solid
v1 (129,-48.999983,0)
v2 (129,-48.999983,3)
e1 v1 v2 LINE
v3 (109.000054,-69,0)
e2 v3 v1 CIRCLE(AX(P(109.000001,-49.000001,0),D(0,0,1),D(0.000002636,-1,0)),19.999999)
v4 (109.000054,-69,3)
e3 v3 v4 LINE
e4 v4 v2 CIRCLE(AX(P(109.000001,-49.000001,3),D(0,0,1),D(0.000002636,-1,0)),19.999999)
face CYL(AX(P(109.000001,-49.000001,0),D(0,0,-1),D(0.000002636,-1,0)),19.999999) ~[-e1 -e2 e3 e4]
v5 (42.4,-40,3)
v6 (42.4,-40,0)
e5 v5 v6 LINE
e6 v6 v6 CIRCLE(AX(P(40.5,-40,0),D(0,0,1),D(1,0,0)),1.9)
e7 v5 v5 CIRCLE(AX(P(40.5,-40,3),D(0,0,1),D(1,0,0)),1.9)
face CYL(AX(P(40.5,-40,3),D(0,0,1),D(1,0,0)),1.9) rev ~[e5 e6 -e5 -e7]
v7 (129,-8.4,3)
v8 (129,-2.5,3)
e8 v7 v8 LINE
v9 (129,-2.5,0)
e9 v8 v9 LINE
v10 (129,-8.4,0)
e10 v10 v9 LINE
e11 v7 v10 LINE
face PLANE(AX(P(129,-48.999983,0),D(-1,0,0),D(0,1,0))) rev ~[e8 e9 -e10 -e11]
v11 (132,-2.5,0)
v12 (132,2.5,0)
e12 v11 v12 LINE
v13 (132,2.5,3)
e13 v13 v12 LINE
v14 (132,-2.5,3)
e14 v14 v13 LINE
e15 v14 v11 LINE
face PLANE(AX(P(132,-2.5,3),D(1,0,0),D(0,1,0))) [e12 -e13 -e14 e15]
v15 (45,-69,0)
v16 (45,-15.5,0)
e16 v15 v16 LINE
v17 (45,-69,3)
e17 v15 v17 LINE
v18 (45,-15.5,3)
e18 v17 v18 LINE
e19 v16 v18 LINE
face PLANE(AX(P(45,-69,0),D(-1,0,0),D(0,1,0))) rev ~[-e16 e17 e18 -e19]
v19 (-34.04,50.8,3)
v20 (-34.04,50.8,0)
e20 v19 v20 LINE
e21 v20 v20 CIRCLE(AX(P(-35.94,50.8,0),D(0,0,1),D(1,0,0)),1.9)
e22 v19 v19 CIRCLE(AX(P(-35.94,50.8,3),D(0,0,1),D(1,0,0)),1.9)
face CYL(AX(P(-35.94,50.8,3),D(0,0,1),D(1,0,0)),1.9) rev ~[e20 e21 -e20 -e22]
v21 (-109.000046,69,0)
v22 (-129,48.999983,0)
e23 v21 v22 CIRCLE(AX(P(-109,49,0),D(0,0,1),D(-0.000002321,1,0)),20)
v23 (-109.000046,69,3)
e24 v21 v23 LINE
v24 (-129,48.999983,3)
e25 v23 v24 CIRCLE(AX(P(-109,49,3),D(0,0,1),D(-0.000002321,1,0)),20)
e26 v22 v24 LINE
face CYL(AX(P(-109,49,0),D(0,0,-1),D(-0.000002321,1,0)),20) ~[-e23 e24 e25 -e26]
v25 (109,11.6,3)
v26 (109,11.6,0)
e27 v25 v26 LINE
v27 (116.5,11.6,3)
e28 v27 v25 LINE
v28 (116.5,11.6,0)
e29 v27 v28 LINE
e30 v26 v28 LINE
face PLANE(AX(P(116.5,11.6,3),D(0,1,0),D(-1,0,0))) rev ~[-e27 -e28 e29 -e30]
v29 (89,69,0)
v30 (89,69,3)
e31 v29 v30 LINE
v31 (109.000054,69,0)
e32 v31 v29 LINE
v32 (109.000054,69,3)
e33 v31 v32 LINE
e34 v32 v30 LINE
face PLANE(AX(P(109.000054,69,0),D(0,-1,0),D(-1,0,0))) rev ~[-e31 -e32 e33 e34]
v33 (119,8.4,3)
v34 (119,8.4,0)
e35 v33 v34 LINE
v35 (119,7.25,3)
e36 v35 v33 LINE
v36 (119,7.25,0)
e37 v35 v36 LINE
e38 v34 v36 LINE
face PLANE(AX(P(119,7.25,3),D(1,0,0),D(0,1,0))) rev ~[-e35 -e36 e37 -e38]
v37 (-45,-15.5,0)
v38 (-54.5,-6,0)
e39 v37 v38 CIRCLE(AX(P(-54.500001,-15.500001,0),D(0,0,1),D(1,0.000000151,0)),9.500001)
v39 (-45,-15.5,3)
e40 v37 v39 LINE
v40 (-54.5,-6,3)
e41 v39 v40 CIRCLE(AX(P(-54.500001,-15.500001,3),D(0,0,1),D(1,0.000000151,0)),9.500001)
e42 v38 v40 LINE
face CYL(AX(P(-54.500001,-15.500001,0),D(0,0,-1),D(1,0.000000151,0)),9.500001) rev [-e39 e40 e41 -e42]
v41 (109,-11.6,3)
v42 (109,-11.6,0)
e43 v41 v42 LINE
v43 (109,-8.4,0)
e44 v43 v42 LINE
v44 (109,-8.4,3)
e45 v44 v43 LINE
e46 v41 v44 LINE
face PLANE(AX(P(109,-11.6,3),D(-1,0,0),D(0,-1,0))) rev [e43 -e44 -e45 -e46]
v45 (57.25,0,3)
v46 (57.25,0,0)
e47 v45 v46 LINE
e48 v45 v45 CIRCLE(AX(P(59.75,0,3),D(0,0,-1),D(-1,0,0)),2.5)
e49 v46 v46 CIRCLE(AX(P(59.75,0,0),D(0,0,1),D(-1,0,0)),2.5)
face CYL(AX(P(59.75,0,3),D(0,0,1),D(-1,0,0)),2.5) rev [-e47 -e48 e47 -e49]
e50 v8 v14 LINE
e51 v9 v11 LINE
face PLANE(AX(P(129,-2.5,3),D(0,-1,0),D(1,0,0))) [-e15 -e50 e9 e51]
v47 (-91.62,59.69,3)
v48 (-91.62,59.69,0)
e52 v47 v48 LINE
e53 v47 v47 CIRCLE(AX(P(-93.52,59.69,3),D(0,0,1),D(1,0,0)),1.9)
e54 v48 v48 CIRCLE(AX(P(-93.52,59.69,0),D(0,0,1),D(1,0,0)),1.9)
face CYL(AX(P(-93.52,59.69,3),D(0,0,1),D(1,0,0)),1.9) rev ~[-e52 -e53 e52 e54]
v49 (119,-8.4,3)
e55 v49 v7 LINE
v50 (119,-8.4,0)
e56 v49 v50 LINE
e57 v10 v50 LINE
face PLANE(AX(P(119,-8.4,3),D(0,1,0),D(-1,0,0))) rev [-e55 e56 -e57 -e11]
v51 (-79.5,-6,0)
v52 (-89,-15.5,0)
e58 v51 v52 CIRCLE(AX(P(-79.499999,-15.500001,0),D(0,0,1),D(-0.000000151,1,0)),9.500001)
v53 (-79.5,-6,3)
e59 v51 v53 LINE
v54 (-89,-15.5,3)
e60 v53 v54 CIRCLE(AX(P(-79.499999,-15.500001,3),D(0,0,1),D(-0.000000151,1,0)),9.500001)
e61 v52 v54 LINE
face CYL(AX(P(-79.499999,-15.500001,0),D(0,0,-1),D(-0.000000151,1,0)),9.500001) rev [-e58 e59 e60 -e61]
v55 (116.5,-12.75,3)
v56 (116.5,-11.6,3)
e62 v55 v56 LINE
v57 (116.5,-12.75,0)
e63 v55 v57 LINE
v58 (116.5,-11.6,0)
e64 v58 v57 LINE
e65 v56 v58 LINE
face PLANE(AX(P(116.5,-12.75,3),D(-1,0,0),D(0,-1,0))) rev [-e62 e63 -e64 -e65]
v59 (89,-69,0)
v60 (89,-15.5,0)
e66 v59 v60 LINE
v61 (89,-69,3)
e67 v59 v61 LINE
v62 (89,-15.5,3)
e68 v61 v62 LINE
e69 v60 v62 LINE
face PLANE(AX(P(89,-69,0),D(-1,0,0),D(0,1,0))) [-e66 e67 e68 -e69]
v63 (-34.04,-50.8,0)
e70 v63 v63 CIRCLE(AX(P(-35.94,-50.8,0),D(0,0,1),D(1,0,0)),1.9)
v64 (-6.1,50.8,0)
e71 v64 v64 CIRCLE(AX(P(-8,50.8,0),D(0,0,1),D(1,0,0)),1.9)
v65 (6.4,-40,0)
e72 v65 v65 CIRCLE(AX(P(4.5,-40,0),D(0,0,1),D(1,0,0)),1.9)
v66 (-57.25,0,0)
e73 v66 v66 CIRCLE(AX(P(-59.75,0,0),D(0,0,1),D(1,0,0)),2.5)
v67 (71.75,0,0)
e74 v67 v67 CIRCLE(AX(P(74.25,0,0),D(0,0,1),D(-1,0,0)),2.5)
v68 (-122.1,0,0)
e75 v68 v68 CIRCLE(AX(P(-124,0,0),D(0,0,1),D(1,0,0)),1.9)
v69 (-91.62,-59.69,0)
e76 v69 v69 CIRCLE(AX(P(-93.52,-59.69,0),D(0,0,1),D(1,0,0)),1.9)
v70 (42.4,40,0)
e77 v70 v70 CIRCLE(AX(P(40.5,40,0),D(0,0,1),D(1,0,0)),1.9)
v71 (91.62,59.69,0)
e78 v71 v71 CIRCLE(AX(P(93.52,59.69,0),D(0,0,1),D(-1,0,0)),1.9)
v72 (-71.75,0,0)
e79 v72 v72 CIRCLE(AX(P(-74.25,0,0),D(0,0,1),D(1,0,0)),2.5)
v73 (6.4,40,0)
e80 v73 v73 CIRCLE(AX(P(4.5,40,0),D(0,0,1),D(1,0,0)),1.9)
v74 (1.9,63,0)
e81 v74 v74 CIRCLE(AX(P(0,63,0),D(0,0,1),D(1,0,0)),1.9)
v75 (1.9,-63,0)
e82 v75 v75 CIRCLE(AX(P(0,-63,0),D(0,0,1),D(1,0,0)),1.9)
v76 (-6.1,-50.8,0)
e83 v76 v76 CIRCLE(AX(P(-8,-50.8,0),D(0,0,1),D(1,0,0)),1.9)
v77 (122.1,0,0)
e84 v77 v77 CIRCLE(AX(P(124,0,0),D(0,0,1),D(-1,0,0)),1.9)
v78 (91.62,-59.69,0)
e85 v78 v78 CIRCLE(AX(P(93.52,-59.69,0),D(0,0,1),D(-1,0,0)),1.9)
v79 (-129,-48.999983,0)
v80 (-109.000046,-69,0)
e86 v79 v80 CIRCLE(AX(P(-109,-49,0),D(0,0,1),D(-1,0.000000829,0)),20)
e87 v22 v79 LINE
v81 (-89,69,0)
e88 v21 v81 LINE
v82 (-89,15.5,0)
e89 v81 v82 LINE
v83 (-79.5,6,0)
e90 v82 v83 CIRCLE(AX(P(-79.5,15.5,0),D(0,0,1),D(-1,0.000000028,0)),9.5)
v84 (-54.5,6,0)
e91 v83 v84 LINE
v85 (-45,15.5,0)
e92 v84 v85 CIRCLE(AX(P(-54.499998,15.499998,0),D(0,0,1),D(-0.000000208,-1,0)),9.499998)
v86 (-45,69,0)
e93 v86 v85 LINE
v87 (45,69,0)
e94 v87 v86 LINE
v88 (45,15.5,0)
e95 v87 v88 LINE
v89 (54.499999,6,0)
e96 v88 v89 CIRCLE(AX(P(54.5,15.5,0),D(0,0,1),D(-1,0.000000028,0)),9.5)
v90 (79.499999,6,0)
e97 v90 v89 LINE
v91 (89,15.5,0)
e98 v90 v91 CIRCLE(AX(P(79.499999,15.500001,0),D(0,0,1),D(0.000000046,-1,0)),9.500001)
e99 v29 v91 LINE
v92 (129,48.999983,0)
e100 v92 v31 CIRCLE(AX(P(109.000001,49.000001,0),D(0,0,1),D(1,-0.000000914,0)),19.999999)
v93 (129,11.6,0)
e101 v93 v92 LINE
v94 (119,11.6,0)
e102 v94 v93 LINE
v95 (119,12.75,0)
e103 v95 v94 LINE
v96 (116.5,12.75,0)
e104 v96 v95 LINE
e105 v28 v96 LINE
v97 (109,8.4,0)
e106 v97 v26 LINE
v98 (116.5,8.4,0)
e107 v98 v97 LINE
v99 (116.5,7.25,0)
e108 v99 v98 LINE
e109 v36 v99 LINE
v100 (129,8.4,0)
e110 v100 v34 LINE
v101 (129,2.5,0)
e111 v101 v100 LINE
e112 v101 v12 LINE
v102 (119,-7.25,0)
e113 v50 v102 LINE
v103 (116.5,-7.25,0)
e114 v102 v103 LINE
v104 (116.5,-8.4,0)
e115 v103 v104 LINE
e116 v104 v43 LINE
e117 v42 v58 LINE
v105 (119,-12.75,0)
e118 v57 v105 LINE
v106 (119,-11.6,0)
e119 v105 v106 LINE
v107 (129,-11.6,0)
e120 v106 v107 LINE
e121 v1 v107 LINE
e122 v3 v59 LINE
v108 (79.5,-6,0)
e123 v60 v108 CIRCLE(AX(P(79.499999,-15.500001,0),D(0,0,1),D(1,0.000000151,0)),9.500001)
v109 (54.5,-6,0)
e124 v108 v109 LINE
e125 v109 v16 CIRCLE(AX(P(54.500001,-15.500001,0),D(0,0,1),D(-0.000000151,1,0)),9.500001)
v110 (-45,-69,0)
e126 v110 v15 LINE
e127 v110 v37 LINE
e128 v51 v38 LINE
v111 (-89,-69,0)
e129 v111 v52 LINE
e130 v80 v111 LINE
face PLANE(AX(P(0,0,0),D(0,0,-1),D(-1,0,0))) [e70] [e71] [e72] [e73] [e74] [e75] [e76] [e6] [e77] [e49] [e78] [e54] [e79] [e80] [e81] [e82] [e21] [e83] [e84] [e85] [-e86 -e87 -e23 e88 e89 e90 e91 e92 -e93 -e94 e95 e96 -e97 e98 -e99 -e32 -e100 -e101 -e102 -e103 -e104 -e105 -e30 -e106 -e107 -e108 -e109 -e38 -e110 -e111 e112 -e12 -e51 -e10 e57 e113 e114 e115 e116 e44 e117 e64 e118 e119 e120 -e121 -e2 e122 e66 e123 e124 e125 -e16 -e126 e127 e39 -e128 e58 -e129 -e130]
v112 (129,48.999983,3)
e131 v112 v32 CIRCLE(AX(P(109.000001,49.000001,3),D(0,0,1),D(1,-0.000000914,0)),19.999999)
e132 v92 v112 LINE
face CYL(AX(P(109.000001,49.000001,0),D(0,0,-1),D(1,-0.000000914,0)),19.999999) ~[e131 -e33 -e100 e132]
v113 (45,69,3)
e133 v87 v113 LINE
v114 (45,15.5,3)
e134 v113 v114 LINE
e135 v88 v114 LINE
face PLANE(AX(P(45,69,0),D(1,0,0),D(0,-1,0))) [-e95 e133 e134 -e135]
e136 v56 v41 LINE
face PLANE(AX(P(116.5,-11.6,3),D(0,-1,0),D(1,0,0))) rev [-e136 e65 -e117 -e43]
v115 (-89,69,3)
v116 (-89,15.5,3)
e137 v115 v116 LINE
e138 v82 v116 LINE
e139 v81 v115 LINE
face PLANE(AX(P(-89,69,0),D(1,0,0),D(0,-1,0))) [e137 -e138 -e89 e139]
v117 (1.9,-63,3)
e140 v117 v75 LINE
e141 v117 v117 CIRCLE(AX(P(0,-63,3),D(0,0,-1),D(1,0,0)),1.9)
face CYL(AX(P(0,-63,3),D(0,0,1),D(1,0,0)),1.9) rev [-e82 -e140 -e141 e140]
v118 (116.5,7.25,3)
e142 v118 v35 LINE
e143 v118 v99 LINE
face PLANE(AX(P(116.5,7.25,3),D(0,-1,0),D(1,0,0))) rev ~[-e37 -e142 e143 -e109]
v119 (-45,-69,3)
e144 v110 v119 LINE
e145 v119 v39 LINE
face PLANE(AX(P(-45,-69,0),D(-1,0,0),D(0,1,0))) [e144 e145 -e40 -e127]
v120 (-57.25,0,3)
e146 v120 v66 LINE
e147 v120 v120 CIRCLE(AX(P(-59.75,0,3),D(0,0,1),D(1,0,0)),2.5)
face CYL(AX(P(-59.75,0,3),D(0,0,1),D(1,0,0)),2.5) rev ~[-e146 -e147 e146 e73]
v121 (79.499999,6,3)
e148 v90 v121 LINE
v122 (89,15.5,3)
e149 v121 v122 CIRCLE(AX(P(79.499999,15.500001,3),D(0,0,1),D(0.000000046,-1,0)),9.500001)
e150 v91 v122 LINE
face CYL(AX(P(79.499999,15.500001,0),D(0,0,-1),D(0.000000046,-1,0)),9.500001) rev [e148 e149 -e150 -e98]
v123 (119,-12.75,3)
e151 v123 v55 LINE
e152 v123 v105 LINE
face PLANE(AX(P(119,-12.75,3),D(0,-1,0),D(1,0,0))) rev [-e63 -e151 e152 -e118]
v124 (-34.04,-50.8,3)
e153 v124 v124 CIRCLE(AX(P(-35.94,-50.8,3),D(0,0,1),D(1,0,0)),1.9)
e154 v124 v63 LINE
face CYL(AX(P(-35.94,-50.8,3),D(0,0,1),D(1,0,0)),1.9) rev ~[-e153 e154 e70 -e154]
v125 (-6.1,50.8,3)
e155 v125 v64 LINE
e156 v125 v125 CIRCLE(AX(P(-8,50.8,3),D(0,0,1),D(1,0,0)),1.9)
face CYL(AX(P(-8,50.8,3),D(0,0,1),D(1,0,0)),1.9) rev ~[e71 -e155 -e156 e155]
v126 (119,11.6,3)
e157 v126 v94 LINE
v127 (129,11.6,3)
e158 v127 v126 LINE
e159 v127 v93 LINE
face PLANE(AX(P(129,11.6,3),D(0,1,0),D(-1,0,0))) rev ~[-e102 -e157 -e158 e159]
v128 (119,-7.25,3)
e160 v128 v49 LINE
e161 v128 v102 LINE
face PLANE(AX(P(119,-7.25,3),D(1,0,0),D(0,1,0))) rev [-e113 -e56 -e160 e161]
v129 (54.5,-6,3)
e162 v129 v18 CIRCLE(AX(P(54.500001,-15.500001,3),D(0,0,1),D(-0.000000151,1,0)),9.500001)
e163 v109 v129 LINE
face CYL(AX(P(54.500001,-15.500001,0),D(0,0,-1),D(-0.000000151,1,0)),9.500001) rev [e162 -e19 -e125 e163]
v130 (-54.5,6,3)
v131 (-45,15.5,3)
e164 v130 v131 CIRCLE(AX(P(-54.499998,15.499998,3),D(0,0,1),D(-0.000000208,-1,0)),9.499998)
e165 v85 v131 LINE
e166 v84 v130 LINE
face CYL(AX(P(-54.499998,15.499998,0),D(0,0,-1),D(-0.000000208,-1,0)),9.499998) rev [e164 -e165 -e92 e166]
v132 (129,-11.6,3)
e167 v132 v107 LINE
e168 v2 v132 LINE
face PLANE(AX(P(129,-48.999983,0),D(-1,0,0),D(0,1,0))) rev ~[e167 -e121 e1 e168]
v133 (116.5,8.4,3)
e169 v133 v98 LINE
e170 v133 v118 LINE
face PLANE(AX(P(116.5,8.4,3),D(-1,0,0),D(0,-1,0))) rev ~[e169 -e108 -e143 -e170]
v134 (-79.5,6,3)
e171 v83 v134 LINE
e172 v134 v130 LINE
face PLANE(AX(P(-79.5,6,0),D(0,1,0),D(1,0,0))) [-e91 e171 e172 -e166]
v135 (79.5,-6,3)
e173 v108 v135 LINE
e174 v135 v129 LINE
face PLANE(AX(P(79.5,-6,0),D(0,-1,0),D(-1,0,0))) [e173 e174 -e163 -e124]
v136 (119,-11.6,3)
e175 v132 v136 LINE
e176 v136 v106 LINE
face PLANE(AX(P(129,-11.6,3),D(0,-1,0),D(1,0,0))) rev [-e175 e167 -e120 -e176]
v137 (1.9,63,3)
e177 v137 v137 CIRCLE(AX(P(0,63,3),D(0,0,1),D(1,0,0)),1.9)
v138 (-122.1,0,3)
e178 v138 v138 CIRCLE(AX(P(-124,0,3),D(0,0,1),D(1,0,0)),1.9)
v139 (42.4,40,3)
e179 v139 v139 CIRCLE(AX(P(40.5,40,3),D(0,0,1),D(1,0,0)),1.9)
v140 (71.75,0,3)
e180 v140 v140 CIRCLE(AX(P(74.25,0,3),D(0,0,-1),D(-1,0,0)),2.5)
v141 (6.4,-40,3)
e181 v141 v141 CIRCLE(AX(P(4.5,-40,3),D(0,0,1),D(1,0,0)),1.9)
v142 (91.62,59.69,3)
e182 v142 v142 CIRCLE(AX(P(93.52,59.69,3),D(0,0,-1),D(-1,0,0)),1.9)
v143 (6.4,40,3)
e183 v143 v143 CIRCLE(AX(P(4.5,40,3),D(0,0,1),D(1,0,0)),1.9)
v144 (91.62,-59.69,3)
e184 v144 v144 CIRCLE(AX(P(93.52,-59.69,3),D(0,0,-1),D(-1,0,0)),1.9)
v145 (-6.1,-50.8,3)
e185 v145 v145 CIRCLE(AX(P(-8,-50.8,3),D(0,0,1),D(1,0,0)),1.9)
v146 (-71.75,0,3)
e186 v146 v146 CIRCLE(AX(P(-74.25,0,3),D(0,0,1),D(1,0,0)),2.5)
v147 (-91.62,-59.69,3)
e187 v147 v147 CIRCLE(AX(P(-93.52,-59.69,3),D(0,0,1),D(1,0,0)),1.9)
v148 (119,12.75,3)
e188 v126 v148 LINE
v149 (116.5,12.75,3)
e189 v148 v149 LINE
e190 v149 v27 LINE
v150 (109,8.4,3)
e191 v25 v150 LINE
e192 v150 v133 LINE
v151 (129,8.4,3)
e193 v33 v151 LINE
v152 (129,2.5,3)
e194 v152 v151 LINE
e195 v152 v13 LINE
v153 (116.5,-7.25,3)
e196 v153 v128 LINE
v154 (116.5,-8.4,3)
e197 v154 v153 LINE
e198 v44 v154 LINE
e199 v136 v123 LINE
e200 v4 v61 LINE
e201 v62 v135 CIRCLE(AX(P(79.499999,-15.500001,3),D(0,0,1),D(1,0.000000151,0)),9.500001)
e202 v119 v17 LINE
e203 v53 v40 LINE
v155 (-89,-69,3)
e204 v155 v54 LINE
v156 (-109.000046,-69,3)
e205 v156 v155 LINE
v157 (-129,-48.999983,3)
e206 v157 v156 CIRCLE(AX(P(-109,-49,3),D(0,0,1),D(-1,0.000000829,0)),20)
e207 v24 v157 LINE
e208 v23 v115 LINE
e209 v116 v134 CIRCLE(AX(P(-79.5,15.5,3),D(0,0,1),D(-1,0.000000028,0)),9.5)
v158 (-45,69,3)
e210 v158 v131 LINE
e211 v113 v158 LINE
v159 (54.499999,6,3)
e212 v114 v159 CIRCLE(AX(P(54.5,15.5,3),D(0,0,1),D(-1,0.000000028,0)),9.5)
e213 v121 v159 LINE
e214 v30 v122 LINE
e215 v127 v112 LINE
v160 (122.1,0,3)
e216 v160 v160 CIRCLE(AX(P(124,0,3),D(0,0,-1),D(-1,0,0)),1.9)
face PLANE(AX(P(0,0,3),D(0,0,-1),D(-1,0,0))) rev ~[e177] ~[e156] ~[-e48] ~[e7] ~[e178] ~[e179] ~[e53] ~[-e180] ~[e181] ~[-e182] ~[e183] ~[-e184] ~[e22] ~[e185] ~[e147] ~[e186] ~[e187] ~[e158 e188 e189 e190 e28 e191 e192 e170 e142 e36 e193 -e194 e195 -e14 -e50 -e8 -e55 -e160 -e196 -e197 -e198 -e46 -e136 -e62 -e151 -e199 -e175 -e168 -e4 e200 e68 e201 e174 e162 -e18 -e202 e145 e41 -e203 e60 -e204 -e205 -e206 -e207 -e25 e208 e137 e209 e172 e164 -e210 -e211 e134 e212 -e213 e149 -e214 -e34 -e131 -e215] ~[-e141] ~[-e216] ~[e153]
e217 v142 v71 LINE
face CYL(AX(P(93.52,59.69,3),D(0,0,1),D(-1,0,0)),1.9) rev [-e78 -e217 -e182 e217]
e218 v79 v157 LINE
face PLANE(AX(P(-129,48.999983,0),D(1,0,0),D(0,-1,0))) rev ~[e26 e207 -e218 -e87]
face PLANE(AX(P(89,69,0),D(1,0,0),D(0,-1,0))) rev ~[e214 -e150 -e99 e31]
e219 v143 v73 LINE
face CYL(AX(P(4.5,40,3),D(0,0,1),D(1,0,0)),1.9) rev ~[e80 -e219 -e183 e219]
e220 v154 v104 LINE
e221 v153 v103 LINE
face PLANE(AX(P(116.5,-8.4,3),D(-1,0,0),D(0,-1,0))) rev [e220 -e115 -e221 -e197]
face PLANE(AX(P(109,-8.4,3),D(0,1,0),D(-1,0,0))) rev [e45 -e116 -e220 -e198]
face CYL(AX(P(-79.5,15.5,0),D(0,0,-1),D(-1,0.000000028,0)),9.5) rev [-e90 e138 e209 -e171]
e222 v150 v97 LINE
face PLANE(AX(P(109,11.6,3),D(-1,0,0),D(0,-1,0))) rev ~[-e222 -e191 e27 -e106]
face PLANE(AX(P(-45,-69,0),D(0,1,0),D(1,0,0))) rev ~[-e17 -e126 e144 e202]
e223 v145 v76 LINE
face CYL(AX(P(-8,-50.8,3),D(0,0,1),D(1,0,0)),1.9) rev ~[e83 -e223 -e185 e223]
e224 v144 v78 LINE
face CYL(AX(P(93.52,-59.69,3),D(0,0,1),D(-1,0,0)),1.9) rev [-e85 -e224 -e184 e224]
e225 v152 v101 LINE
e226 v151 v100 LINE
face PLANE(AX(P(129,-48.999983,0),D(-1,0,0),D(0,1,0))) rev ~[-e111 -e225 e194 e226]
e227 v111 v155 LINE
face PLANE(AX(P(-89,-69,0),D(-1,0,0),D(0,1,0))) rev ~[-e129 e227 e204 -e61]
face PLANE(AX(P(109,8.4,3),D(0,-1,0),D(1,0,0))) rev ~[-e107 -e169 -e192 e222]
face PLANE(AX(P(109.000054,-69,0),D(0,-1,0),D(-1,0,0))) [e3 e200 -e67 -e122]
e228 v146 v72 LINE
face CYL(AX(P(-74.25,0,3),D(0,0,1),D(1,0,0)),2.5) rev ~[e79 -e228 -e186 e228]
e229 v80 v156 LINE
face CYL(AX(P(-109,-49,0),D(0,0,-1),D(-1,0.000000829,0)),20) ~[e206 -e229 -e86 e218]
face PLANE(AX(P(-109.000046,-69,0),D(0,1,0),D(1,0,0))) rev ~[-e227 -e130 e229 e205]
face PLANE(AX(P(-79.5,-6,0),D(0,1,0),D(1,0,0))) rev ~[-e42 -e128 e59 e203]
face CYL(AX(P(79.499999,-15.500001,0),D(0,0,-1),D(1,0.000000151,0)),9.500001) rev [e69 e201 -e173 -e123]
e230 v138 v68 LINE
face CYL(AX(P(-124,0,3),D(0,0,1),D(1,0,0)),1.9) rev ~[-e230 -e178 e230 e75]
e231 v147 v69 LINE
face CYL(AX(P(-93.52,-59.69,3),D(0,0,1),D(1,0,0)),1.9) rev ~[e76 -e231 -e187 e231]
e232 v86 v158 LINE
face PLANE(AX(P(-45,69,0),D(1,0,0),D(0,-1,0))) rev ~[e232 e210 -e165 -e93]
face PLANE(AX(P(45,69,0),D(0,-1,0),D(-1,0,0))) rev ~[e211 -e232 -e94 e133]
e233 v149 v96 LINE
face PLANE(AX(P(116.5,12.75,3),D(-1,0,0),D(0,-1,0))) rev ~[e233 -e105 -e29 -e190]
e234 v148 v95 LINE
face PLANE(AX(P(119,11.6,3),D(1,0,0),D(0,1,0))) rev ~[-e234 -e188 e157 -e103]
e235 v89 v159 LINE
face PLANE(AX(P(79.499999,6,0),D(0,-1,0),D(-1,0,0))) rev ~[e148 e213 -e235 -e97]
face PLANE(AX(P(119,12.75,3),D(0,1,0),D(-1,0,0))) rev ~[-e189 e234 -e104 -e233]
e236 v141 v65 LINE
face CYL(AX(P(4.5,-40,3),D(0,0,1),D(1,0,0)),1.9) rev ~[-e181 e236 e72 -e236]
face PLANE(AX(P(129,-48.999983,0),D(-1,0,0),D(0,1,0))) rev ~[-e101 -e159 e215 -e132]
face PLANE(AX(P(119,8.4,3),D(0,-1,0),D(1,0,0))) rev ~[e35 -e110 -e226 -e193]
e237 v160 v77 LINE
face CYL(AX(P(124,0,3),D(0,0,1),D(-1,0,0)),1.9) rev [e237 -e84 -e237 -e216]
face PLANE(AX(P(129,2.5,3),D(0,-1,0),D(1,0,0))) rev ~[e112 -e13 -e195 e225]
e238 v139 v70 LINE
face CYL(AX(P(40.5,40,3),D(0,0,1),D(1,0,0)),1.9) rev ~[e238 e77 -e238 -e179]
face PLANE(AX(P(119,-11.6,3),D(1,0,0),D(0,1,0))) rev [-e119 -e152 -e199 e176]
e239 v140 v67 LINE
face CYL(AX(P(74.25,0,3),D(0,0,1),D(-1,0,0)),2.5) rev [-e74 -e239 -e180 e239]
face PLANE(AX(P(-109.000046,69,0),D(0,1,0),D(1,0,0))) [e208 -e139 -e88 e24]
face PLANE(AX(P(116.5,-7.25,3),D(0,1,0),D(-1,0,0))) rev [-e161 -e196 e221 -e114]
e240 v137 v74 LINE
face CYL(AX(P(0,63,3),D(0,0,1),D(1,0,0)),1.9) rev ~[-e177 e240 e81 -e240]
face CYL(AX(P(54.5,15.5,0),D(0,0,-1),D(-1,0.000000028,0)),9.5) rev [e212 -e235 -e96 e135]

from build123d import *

# Parameters (mm, degrees)
PAD_DEPTH       = 3
SKETCH004_R     = 2.5
POCKET_DEPTH    = 588.208656
SKETCH005_R     = 1.9
POCKET001_DEPTH = 588.208656
SKETCH014_R     = 1.9
POCKET008_DEPTH = 3.001
SKETCH025_R     = 1.9
POCKET016_DEPTH = 3.001
POCKET020_DEPTH = 588.208656
SKETCH032_W     = 3
SKETCH032_H     = 5
PAD007_DEPTH    = 3
SKETCH037_R     = 1.9
POCKET024_DEPTH = 593.505869


with BuildPart() as part:
    # Sketch → Pad (new body)
    with BuildSketch(Plane.XY):
        with BuildLine():
            Line((0, -69), (-45, -69))
            Line((-45, -69), (-45, -15.5))
            ThreePointArc((-45, -15.5), (-47.782486, -8.782486), (-54.5, -6))
            Line((-79.5, -6), (-54.5, -6))
            ThreePointArc((-79.5, -6), (-86.217514, -8.782486), (-89, -15.5))
            Line((-89, -69), (-89, -15.5))
            Line((-109.000046, -69), (-89, -69))
            ThreePointArc((-129, -48.999983), (-123.142158, -63.142113), (-109.000046, -69))
            Line((-129, 0), (-129, -48.999983))
            Line((-129, 0), (-129, 48.999983))
            ThreePointArc((-109.000046, 69), (-123.142158, 63.142113), (-129, 48.999983))
            Line((-109.000046, 69), (-89, 69))
            Line((-89, 69), (-89, 15.5))
            ThreePointArc((-89, 15.5), (-86.217514, 8.782485), (-79.5, 6))
            Line((-79.5, 6), (-54.5, 6))
            ThreePointArc((-54.5, 6), (-47.782485, 8.782485), (-45, 15.5))
            Line((-45, 69), (-45, 15.5))
            Line((0, 69), (-45, 69))
            Line((0, 69), (45, 69))
            Line((45, 69), (45, 15.5))
            ThreePointArc((45, 15.5), (47.782485, 8.782486), (54.499999, 6))
            Line((79.499999, 6), (54.499999, 6))
            ThreePointArc((79.499999, 6), (86.217514, 8.782486), (89, 15.5))
            Line((89, 69), (89, 15.5))
            Line((109.000054, 69), (89, 69))
            ThreePointArc((129, 48.999983), (123.142161, 63.142111), (109.000054, 69))
            Line((129, 0), (129, 48.999983))
            Line((129, 0), (129, -48.999983))
            ThreePointArc((109.000054, -69), (123.142161, -63.142111), (129, -48.999983))
            Line((109.000054, -69), (89, -69))
            Line((89, -69), (89, -15.5))
            ThreePointArc((89, -15.5), (86.217514, -8.782486), (79.5, -6))
            Line((79.5, -6), (54.5, -6))
            ThreePointArc((54.5, -6), (47.782486, -8.782486), (45, -15.5))
            Line((45, -69), (45, -15.5))
            Line((0, -69), (45, -69))
        make_face()
    extrude(amount=PAD_DEPTH)

    # Sketch004 (on Face30 of Pad) → Pocket (cut, through all)
    with BuildSketch(Plane.XY.offset(3)):
        with Locations((-74.25, 0)):
            Circle(SKETCH004_R)
        with Locations((-59.75, 0)):
            Circle(SKETCH004_R)
    pocket = extrude(amount=-POCKET_DEPTH, mode=Mode.SUBTRACT)

    # Mirrored: Pocket across Sketch004 V_Axis
    add(pocket.mirror(Plane(origin=(0, 0, 3), x_dir=(0, 0, 1), z_dir=(1, 0, 0))), mode=Mode.SUBTRACT)

    # Sketch005 (on Face30 of Clone) → Pocket001 (cut, through all)
    with BuildSketch(Plane.XY.offset(3)):
        with Locations((-124, 0)):
            Circle(SKETCH005_R)
        with Locations((-93.52, -59.69)):
            Circle(SKETCH005_R)
        with Locations((-93.52, 59.69)):
            Circle(SKETCH005_R)
    pocket001 = extrude(amount=-POCKET001_DEPTH, mode=Mode.SUBTRACT)

    # Mirrored006: Pocket001 across Sketch005 V_Axis
    add(pocket001.mirror(Plane(origin=(0, 0, 3), x_dir=(0, 0, 1), z_dir=(1, 0, 0))), mode=Mode.SUBTRACT)

    # Sketch014 (on Face5 of Mirrored006) → Pocket008 (cut, through all)
    with BuildSketch(Plane.XY.offset(3)):
        with Locations((-35.94, 50.8)):
            Circle(SKETCH014_R)
        with Locations((-8, 50.8)):
            Circle(SKETCH014_R)
        with Locations((-8, -50.8)):
            Circle(SKETCH014_R)
        with Locations((-35.94, -50.8)):
            Circle(SKETCH014_R)
    extrude(amount=-POCKET008_DEPTH, mode=Mode.SUBTRACT)

    # Sketch025 (on Face5 of Pocket008) → Pocket016 (cut, through all)
    with BuildSketch(Plane.XY.offset(3)):
        with Locations((40.5, -40)):
            Circle(SKETCH025_R)
        with Locations((4.5, 40)):
            Circle(SKETCH025_R)
        with Locations((4.5, -40)):
            Circle(SKETCH025_R)
        with Locations((40.5, 40)):
            Circle(SKETCH025_R)
    extrude(amount=-POCKET016_DEPTH, mode=Mode.SUBTRACT)

    # Sketch031 (on ShapeBinder) → Pocket020 (cut, through all)
    with BuildSketch(Plane.XY.offset(3)):
        Polygon((129, 8.4), (129, 11.6), (119, 11.6), (119, 12.75), (116.5, 12.75), (116.5, 11.6), (109, 11.6), (109, 8.4), (116.5, 8.4), (116.5, 7.25), (119, 7.25), (119, 8.4), align=None)
    pocket020 = extrude(amount=-POCKET020_DEPTH, mode=Mode.SUBTRACT)

    # Mirrored018: Pocket020 across Sketch031 H_Axis
    add(pocket020.mirror(Plane(origin=(0, 0, 3), x_dir=(0, 0, 1), z_dir=(0, 1, 0))), mode=Mode.SUBTRACT)

    # Sketch032 (on ShapeBinder) → Pad007 (join)
    with BuildSketch(Plane.XY.offset(3)):
        with Locations((130.5, 0)):
            Rectangle(SKETCH032_W, SKETCH032_H)
    extrude(amount=-PAD007_DEPTH)

    # Sketch037 (on Face80 of Pad007) → Pocket024 (cut, through all)
    with BuildSketch(Plane.XY.offset(3)):
        with Locations((0, 63)):
            Circle(SKETCH037_R)
    pocket024 = extrude(amount=-POCKET024_DEPTH, mode=Mode.SUBTRACT)

    # Mirrored020: Pocket024 across Sketch037 H_Axis
    add(pocket024.mirror(Plane(origin=(0, 0, 3), x_dir=(0, 0, 1), z_dir=(0, 1, 0))), mode=Mode.SUBTRACT)


solid = part.part
